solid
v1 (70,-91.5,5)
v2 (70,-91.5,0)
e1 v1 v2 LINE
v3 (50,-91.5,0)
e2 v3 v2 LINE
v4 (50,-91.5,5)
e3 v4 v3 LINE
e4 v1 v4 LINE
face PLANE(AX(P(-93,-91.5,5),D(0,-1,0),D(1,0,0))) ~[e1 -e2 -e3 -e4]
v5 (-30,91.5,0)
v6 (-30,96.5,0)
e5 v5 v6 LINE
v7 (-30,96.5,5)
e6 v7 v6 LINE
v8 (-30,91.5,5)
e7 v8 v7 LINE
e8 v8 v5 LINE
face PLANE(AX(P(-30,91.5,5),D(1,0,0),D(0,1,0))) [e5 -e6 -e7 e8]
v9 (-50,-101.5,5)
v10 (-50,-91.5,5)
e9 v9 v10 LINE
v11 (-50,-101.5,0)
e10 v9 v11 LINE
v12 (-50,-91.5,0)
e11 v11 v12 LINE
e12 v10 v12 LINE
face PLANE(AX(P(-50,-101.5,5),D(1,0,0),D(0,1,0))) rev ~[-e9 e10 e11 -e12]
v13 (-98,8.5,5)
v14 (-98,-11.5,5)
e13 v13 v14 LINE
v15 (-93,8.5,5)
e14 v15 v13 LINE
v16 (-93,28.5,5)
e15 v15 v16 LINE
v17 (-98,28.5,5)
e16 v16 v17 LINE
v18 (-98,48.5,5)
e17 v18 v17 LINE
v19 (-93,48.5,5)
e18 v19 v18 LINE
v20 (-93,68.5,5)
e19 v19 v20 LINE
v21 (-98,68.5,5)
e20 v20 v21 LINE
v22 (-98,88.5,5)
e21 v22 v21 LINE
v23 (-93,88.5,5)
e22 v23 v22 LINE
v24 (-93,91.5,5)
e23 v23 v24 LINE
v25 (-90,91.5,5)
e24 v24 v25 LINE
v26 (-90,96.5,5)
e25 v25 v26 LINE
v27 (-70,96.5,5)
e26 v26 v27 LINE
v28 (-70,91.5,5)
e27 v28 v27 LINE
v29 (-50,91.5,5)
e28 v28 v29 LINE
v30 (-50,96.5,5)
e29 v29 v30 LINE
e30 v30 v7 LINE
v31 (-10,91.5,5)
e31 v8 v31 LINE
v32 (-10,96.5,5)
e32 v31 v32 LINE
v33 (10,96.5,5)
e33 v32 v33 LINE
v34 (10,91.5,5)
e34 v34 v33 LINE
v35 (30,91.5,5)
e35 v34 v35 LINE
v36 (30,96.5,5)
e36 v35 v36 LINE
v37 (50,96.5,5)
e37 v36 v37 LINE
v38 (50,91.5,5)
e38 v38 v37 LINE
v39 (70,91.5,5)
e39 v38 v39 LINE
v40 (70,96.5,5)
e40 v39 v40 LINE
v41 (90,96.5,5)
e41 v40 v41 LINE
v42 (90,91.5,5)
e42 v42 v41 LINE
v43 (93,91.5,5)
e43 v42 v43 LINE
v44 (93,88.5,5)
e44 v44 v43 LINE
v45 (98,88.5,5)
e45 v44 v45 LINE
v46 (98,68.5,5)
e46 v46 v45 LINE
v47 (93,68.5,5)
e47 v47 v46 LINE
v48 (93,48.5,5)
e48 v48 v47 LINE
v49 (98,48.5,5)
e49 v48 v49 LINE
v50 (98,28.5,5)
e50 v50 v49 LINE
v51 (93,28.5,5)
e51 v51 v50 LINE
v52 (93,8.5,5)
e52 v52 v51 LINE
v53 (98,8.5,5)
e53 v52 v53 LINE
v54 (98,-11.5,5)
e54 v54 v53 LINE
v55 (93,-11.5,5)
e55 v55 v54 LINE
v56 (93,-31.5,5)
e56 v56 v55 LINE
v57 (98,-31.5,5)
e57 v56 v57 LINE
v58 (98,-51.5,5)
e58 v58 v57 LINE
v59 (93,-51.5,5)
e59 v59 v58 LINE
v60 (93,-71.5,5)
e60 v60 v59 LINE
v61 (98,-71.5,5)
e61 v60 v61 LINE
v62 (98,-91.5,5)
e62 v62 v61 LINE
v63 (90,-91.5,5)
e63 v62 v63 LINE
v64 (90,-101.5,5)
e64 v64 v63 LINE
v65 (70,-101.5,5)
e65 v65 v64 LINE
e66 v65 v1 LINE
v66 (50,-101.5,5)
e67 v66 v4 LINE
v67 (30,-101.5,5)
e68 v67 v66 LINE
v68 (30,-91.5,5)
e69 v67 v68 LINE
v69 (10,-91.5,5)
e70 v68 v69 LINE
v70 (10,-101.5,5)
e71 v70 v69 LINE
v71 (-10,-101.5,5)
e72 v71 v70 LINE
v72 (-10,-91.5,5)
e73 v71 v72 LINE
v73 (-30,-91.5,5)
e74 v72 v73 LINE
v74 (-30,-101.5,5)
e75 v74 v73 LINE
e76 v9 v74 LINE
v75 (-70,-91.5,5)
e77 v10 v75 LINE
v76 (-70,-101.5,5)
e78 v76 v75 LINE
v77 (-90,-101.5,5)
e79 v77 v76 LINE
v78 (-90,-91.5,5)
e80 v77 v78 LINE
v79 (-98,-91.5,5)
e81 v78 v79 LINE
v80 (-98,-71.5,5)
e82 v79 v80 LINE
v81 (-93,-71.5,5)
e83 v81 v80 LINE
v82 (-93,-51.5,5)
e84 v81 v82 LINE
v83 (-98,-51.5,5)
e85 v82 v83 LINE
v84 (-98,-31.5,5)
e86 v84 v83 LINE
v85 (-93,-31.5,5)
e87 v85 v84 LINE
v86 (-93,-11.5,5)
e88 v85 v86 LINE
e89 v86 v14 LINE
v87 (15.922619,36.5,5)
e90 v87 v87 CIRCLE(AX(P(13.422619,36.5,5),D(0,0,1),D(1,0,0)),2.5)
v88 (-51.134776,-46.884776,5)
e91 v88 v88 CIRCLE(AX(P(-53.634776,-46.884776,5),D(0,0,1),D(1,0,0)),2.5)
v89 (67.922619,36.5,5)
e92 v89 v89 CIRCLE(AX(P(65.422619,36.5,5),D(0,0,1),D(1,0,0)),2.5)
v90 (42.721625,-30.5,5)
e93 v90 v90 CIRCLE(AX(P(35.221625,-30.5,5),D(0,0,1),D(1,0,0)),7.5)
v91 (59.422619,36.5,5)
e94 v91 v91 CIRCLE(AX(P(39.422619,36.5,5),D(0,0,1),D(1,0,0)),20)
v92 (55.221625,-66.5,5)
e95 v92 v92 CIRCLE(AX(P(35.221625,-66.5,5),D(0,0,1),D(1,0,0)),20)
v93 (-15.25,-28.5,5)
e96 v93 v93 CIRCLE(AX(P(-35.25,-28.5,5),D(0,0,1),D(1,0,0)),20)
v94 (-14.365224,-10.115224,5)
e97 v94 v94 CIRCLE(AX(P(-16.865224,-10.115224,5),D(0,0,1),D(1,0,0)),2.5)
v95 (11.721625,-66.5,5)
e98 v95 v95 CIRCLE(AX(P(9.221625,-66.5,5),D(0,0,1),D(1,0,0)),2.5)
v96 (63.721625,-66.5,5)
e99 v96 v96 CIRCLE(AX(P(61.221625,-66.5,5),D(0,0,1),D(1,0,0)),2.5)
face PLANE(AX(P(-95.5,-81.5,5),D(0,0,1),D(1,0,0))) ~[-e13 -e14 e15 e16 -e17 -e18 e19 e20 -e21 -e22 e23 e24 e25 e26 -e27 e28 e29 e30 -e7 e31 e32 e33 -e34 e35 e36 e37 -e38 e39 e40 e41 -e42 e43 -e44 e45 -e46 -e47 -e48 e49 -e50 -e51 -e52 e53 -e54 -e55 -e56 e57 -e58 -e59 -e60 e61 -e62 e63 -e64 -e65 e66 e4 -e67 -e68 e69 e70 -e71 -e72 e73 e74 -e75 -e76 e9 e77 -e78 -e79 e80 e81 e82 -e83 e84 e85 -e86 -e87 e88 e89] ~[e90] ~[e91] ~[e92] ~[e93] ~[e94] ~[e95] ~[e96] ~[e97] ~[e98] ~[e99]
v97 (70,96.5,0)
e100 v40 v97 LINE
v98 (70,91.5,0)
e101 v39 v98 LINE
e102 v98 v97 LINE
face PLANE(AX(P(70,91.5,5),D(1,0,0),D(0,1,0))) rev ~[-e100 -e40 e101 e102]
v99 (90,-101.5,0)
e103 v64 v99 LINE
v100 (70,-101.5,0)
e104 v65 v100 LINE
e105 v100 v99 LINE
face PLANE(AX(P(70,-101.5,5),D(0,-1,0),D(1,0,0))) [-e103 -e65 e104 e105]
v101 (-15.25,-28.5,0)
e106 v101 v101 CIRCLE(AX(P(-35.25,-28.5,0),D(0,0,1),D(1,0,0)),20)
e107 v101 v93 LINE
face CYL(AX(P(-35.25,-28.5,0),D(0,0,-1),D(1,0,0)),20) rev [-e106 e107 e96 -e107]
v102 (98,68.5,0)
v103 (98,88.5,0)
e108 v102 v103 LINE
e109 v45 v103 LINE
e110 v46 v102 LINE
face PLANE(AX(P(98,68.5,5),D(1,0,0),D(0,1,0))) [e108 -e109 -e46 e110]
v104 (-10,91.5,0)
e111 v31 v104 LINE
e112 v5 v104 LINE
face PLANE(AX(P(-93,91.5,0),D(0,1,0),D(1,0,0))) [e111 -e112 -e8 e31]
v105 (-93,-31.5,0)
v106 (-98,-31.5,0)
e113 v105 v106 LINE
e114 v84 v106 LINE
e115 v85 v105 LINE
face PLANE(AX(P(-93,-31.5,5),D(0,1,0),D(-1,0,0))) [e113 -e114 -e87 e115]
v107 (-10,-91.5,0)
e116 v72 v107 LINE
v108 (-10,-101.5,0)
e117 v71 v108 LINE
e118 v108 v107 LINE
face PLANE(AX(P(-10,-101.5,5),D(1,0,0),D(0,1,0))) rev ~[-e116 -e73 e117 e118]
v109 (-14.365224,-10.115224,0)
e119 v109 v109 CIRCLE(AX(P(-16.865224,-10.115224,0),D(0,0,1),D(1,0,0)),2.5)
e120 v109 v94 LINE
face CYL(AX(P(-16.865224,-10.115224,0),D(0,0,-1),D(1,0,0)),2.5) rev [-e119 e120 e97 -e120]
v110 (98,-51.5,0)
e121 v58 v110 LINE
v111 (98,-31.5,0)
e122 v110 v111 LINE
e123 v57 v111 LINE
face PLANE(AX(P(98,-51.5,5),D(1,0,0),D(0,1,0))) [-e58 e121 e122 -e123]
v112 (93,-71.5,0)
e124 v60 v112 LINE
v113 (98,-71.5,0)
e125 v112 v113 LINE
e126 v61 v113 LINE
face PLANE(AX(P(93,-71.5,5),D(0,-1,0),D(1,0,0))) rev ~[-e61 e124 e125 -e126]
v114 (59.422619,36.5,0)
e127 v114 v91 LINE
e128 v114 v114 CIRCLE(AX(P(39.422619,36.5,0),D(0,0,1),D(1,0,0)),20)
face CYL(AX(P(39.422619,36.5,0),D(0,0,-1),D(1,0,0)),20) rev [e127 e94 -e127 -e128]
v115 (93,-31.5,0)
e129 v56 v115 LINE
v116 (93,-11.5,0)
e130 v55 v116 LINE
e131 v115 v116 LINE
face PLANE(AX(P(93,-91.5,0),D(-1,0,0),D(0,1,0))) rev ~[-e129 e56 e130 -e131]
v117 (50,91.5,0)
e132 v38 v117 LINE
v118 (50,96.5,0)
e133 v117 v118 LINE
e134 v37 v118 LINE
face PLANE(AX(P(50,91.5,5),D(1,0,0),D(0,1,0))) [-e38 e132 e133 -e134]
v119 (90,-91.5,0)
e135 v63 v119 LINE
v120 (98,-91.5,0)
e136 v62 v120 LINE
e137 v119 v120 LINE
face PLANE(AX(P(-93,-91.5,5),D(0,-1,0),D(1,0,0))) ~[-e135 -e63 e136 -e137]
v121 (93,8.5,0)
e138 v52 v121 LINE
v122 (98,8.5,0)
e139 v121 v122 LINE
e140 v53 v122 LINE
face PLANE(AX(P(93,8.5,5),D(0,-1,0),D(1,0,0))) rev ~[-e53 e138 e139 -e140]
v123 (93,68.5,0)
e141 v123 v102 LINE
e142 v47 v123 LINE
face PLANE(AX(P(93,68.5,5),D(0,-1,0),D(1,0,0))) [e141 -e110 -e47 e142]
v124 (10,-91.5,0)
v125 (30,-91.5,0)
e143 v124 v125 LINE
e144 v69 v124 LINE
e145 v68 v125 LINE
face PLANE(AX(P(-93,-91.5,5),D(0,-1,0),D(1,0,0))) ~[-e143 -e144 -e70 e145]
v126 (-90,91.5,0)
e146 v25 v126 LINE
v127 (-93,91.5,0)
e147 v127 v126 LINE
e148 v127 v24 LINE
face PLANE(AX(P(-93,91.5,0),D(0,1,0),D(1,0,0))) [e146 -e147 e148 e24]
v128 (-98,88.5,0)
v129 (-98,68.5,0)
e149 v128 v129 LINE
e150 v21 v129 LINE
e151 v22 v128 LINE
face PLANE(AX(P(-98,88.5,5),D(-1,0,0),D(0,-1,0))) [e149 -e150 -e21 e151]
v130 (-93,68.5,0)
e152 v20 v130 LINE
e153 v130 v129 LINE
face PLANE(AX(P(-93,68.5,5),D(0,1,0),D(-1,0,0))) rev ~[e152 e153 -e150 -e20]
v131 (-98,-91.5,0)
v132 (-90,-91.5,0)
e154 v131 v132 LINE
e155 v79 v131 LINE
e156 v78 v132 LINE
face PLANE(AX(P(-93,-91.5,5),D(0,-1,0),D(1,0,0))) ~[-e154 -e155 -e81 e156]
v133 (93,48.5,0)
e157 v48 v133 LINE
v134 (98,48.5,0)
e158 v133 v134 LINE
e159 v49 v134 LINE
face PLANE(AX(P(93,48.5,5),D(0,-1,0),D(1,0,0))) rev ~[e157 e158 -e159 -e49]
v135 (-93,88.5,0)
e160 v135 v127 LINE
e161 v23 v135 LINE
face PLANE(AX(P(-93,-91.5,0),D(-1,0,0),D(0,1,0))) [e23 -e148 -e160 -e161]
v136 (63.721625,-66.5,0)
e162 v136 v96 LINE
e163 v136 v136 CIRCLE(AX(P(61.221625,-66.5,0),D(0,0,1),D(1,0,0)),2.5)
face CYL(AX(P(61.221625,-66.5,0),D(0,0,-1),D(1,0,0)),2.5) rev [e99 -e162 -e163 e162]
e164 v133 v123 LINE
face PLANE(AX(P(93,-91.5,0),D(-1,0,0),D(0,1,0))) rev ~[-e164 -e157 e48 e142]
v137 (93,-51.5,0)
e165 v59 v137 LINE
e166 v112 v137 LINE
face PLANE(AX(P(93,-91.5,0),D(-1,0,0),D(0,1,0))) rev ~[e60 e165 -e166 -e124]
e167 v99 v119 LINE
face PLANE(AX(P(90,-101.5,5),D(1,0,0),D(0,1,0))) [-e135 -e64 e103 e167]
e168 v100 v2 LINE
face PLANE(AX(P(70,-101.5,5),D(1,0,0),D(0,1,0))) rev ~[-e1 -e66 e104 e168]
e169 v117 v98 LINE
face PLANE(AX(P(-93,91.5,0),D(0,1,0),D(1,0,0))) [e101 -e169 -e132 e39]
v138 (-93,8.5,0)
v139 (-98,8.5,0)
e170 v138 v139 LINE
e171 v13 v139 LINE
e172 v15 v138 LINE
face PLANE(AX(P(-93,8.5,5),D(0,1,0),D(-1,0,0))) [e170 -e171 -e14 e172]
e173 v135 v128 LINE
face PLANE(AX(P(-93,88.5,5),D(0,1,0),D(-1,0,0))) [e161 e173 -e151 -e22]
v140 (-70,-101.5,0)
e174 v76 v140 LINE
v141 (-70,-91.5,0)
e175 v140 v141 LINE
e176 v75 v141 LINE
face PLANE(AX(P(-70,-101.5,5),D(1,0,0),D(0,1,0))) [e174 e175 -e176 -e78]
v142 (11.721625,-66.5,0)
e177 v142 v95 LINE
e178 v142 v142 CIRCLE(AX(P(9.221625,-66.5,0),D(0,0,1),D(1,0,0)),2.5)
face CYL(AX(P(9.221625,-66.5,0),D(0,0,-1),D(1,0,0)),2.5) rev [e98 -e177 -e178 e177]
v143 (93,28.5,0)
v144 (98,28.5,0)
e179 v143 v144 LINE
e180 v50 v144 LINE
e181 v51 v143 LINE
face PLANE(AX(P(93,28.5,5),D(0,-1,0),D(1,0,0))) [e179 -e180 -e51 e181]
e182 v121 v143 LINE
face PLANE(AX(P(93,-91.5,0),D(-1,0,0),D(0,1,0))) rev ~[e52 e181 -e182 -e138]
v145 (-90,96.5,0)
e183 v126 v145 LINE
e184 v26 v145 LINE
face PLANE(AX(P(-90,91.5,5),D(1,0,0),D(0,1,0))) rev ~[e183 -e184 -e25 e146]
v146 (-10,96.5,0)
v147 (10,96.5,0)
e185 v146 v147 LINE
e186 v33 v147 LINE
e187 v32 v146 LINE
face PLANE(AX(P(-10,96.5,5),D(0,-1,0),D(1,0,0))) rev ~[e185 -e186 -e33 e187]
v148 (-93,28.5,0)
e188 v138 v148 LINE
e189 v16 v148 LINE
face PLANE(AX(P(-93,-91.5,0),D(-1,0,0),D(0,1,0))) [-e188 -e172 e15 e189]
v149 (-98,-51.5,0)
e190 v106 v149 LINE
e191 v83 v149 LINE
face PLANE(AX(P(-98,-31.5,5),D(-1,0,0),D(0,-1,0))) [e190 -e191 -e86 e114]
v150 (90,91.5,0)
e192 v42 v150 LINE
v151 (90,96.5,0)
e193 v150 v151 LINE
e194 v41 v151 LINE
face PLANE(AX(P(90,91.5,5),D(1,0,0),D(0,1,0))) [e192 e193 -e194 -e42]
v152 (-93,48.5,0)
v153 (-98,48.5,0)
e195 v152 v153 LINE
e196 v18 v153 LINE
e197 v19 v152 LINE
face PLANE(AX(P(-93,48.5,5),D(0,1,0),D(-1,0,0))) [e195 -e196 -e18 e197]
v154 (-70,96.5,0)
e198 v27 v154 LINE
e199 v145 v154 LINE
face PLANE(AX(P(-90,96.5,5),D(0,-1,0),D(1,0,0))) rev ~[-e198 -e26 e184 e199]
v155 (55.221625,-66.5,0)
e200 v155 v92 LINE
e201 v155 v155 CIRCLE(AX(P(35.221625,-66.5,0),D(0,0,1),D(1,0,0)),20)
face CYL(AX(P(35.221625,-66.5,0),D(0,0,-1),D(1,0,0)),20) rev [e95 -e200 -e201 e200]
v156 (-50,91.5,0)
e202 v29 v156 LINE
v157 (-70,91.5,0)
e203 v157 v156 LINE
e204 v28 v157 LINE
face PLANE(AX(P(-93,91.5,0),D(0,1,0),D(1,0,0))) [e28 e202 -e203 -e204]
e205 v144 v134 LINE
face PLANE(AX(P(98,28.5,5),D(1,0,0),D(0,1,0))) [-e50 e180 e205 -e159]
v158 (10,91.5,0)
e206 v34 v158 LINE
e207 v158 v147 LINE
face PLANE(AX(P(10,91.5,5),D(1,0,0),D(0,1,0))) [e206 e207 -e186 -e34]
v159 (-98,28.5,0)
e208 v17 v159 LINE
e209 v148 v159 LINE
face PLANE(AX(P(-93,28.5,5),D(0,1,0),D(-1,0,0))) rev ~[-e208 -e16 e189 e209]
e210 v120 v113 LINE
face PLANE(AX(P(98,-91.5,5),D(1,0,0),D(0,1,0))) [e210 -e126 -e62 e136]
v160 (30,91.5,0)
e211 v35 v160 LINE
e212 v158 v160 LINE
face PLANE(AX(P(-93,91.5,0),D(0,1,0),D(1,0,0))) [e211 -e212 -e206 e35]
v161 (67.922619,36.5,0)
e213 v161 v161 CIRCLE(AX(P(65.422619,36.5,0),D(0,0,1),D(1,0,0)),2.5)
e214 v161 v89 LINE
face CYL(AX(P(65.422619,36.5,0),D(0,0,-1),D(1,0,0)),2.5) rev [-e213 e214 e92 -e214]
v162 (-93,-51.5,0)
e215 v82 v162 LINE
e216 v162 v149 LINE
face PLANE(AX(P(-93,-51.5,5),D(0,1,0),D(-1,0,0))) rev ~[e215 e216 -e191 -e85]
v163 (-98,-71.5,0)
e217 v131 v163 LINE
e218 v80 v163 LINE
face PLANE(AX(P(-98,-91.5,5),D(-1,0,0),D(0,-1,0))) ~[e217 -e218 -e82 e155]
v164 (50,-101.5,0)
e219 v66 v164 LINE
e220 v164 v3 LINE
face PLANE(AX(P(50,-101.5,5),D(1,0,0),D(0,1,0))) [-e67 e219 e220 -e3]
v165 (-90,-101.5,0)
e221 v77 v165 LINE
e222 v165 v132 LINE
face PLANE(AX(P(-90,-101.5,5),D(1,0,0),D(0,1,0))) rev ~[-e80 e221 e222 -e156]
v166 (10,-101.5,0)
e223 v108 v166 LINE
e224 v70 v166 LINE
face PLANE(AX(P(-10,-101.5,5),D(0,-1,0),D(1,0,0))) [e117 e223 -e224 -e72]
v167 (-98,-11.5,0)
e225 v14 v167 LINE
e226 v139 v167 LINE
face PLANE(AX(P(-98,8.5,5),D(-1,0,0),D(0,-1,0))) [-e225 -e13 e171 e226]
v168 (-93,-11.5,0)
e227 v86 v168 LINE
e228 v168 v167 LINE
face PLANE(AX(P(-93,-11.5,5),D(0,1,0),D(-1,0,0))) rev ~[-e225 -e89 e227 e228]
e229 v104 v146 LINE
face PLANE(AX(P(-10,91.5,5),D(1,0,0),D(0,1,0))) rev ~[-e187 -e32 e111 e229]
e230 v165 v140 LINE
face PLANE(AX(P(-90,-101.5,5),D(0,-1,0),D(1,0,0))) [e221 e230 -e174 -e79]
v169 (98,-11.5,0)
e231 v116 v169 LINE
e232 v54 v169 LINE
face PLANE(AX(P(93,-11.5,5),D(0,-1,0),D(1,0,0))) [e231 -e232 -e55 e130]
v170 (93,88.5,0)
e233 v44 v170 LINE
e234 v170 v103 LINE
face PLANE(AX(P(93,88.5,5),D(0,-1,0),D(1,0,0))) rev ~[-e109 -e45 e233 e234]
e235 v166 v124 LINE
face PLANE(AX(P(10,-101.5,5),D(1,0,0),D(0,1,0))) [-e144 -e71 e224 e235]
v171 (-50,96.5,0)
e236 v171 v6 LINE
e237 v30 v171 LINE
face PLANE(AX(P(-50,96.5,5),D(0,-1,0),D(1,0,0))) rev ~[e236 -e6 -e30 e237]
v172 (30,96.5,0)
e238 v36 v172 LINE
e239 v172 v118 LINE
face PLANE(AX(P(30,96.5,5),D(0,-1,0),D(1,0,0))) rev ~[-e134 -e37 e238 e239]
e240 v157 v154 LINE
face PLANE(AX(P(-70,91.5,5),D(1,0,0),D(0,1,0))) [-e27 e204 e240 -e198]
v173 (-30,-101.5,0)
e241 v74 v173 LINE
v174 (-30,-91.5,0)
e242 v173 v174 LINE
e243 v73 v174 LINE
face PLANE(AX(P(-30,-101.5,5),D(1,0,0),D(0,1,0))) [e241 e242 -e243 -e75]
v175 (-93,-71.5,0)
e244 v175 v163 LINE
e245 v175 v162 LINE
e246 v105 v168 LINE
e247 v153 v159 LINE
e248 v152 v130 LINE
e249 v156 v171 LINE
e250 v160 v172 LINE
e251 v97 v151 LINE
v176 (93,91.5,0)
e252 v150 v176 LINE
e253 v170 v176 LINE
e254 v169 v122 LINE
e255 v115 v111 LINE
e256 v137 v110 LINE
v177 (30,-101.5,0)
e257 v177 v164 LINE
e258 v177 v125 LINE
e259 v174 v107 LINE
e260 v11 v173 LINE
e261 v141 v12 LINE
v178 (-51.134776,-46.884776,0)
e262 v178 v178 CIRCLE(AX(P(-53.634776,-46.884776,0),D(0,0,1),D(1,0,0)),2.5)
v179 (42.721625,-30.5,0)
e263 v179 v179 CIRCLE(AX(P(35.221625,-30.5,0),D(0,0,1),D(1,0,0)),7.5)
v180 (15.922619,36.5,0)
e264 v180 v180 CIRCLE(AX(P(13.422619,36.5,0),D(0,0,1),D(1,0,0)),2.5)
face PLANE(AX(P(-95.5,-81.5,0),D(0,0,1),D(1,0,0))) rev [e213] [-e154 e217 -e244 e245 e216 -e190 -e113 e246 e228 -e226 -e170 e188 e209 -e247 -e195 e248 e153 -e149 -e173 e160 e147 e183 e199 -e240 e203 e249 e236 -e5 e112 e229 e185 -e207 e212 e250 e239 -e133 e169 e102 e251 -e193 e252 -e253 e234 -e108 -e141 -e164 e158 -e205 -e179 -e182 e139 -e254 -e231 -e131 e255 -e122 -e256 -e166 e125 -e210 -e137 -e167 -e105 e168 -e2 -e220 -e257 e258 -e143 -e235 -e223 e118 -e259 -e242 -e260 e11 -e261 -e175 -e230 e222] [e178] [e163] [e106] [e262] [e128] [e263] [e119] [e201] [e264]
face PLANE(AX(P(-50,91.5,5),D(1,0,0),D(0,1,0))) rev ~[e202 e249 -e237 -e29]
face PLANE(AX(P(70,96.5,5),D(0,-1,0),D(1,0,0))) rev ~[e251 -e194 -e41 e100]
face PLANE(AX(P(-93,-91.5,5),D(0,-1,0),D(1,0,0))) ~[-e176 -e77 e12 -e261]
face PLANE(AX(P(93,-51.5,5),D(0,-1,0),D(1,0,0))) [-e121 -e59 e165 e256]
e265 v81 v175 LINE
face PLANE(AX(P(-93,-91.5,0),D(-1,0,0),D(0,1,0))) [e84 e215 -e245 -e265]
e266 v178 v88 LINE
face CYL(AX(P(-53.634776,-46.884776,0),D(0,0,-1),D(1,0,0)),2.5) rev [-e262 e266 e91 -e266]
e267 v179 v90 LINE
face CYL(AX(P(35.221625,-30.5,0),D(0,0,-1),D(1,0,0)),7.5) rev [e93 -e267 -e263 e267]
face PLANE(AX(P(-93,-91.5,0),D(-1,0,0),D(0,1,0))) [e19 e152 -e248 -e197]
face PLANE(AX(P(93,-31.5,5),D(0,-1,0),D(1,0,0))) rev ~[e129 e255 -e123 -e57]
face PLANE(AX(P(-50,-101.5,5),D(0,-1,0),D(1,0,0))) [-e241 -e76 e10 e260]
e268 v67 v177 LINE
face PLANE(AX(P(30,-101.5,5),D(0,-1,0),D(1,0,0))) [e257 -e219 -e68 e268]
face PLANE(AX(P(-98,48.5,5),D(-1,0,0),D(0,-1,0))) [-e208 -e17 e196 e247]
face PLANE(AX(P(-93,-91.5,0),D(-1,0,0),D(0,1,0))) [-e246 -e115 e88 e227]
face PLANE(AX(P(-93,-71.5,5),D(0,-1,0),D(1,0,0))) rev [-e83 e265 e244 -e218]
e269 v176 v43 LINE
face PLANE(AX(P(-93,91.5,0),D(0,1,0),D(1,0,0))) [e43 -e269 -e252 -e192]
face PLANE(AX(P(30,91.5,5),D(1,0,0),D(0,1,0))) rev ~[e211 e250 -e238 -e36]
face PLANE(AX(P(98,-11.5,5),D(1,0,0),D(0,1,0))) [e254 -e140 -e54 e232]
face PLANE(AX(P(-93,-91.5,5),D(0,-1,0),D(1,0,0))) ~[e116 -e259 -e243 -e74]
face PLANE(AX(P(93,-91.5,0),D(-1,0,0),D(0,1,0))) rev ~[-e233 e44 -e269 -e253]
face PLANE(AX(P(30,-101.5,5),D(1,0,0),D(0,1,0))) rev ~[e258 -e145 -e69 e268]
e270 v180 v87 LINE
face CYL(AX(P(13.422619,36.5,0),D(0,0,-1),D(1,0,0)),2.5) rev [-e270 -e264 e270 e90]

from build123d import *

# Parameters (mm, degrees)
SKETCH_1_W                       = 186
SKETCH_1_H                       = 183
SKETCH_1_R                       = 7.5
SKETCH_1_R_2                     = 20
SKETCH_1_R_3                     = 2.5
EXTRUDE_1_DEPTH                  = 5
SKETCH_2_W                       = 5
SKETCH_2_H                       = 20
EXTRUDE_2_DEPTH                  = 5
PATTERN_LINEAR_2_COUNT           = 5
PATTERN_LINEAR_2_PITCH           = 40
MIRROR_2_COPY_1_SKETCH_W         = 5
MIRROR_2_COPY_1_SKETCH_H         = 20
MIRROR_2_COPY_1_DEPTH            = 5
MIRROR_2_COPY_2_SKETCH_W         = 5
MIRROR_2_COPY_2_SKETCH_H         = 20
MIRROR_2_COPY_2_DEPTH            = 5
MIRROR_2_COPY_3_SKETCH_W         = 5
MIRROR_2_COPY_3_SKETCH_H         = 20
MIRROR_2_COPY_3_DEPTH            = 5
MIRROR_2_COPY_4_SKETCH_W         = 5
MIRROR_2_COPY_4_SKETCH_H         = 20
MIRROR_2_COPY_4_DEPTH            = 5
SKETCH_3_W                       = 20
SKETCH_3_H                       = 5
EXTRUDE_3_DEPTH                  = 5
PATTERN_LINEAR_3_COUNT           = 3
PATTERN_LINEAR_3_PITCH           = 40
PATTERN_LINEAR_4_COUNT           = 3
PATTERN_LINEAR_4_PITCH           = 40
SKETCH_4_W                       = 20
SKETCH_4_H                       = 10
EXTRUDE_4_DEPTH                  = 5
PATTERN_LINEAR_5_COUNT           = 3
PATTERN_LINEAR_5_PITCH           = 40
PATTERN_LINEAR_6_COPY_1_SKETCH_W = 20
PATTERN_LINEAR_6_COPY_1_SKETCH_H = 10
PATTERN_LINEAR_6_COPY_1_DEPTH    = 5
PATTERN_LINEAR_6_COPY_2_SKETCH_W = 20
PATTERN_LINEAR_6_COPY_2_SKETCH_H = 10
PATTERN_LINEAR_6_COPY_2_DEPTH    = 5
PATTERN_LINEAR_6_COPY_3_SKETCH_W = 20
PATTERN_LINEAR_6_COPY_3_SKETCH_H = 10
PATTERN_LINEAR_6_COPY_3_DEPTH    = 5
PATTERN_LINEAR_6_COPY_4_SKETCH_W = 20
PATTERN_LINEAR_6_COPY_4_SKETCH_H = 10
PATTERN_LINEAR_6_COPY_4_DEPTH    = 5
PATTERN_LINEAR_6_COPY_5_SKETCH_W = 20
PATTERN_LINEAR_6_COPY_5_SKETCH_H = 10
PATTERN_LINEAR_6_COPY_5_DEPTH    = 5
PATTERN_LINEAR_6_COPY_6_SKETCH_W = 20
PATTERN_LINEAR_6_COPY_6_SKETCH_H = 10
PATTERN_LINEAR_6_COPY_6_DEPTH    = 5


with BuildPart() as part:
    # 스케치1 → 보스-돌출1 (new body)
    with BuildSketch(Plane.XY):
        Rectangle(SKETCH_1_W, SKETCH_1_H)
        with Locations((35.221625496, -30.5)):
            Circle(SKETCH_1_R, mode=Mode.SUBTRACT)
        with Locations((-35.25, -28.5)):
            Circle(SKETCH_1_R_2, mode=Mode.SUBTRACT)
        with Locations((35.221625496, -66.5)):
            Circle(SKETCH_1_R_2, mode=Mode.SUBTRACT)
        with Locations((39.42261881, 36.5)):
            Circle(SKETCH_1_R_2, mode=Mode.SUBTRACT)
        with Locations((-53.634776311, -46.884776311)):
            Circle(SKETCH_1_R_3, mode=Mode.SUBTRACT)
        with Locations((-16.865223689, -10.115223689)):
            Circle(SKETCH_1_R_3, mode=Mode.SUBTRACT)
        with Locations((65.42261881, 36.5)):
            Circle(SKETCH_1_R_3, mode=Mode.SUBTRACT)
        with Locations((13.42261881, 36.5)):
            Circle(SKETCH_1_R_3, mode=Mode.SUBTRACT)
        with Locations((9.221625496, -66.5)):
            Circle(SKETCH_1_R_3, mode=Mode.SUBTRACT)
        with Locations((61.221625496, -66.5)):
            Circle(SKETCH_1_R_3, mode=Mode.SUBTRACT)
    extrude(amount=EXTRUDE_1_DEPTH)

    # 스케치2 → 보스-돌출2 (add)
    with BuildSketch(Plane.XY.offset(5)):
        with Locations((95.5, -81.5)):
            Rectangle(SKETCH_2_W, SKETCH_2_H)
    extrude_2 = extrude(amount=-EXTRUDE_2_DEPTH)

    # 선형 패턴2: 보스-돌출2 ×5
    with Locations(*[(0, i * PATTERN_LINEAR_2_PITCH, 0) for i in range(1, PATTERN_LINEAR_2_COUNT)]):
        add(extrude_2)

    # 대칭 복사2: 보스-돌출2 across plane
    add(extrude_2.mirror(Plane(origin=(0, 0, 0), x_dir=(0, 0, 1), z_dir=(1, 0, 0))))

    # 대칭 복사2 copy 1 sketch → 대칭 복사2 copy 1 (add)
    with BuildSketch(Plane(origin=(0, 40, 5), x_dir=(-1, 0, 0), z_dir=(0, 0, 1))):
        with Locations((95.5, 81.5)):
            Rectangle(MIRROR_2_COPY_1_SKETCH_W, MIRROR_2_COPY_1_SKETCH_H)
    extrude(amount=-MIRROR_2_COPY_1_DEPTH)

    # 대칭 복사2 copy 2 sketch → 대칭 복사2 copy 2 (add)
    with BuildSketch(Plane(origin=(0, 80, 5), x_dir=(-1, 0, 0), z_dir=(0, 0, 1))):
        with Locations((95.5, 81.5)):
            Rectangle(MIRROR_2_COPY_2_SKETCH_W, MIRROR_2_COPY_2_SKETCH_H)
    extrude(amount=-MIRROR_2_COPY_2_DEPTH)

    # 대칭 복사2 copy 3 sketch → 대칭 복사2 copy 3 (add)
    with BuildSketch(Plane(origin=(0, 120, 5), x_dir=(-1, 0, 0), z_dir=(0, 0, 1))):
        with Locations((95.5, 81.5)):
            Rectangle(MIRROR_2_COPY_3_SKETCH_W, MIRROR_2_COPY_3_SKETCH_H)
    extrude(amount=-MIRROR_2_COPY_3_DEPTH)

    # 대칭 복사2 copy 4 sketch → 대칭 복사2 copy 4 (add)
    with BuildSketch(Plane(origin=(0, 160, 5), x_dir=(-1, 0, 0), z_dir=(0, 0, 1))):
        with Locations((95.5, 81.5)):
            Rectangle(MIRROR_2_COPY_4_SKETCH_W, MIRROR_2_COPY_4_SKETCH_H)
    extrude(amount=-MIRROR_2_COPY_4_DEPTH)

    # 스케치3 → 보스-돌출3 (add)
    with BuildSketch(Plane.XY.offset(5)):
        with Locations((0, 94)):
            Rectangle(SKETCH_3_W, SKETCH_3_H)
    extrude_3 = extrude(amount=-EXTRUDE_3_DEPTH)

    # 선형 패턴3: 보스-돌출3 ×3
    with Locations(*[(i * PATTERN_LINEAR_3_PITCH, 0, 0) for i in range(1, PATTERN_LINEAR_3_COUNT)]):
        add(extrude_3)

    # 선형 패턴4: 보스-돌출3 ×3
    with Locations(*[(-i * PATTERN_LINEAR_4_PITCH, 0, 0) for i in range(1, PATTERN_LINEAR_4_COUNT)]):
        add(extrude_3)

    # 스케치4 → 보스-돌출4 (add)
    with BuildSketch(Plane.XY.offset(5)):
        with Locations((0, -96.5)):
            Rectangle(SKETCH_4_W, SKETCH_4_H)
    extrude_4 = extrude(amount=-EXTRUDE_4_DEPTH)

    # 선형 패턴5: 보스-돌출4 ×3
    with Locations(*[(i * PATTERN_LINEAR_5_PITCH, 0, 0) for i in range(1, PATTERN_LINEAR_5_COUNT)]):
        add(extrude_4)

    # 선형 패턴6 copy 1 sketch → 선형 패턴6 copy 1 (add)
    with BuildSketch(Plane.XY.offset(5)):
        with Locations((0, -96.5)):
            Rectangle(PATTERN_LINEAR_6_COPY_1_SKETCH_W, PATTERN_LINEAR_6_COPY_1_SKETCH_H)
    extrude(amount=-PATTERN_LINEAR_6_COPY_1_DEPTH)

    # 선형 패턴6 copy 2 sketch → 선형 패턴6 copy 2 (add)
    with BuildSketch(Plane(origin=(-40, 0, 5), x_dir=(1, 0, 0), z_dir=(0, 0, 1))):
        with Locations((0, -96.5)):
            Rectangle(PATTERN_LINEAR_6_COPY_2_SKETCH_W, PATTERN_LINEAR_6_COPY_2_SKETCH_H)
    extrude(amount=-PATTERN_LINEAR_6_COPY_2_DEPTH)

    # 선형 패턴6 copy 3 sketch → 선형 패턴6 copy 3 (add)
    with BuildSketch(Plane(origin=(40, 0, 5), x_dir=(1, 0, 0), z_dir=(0, 0, 1))):
        with Locations((0, -96.5)):
            Rectangle(PATTERN_LINEAR_6_COPY_3_SKETCH_W, PATTERN_LINEAR_6_COPY_3_SKETCH_H)
    extrude(amount=-PATTERN_LINEAR_6_COPY_3_DEPTH)

    # 선형 패턴6 copy 4 sketch → 선형 패턴6 copy 4 (add)
    with BuildSketch(Plane.XY.offset(5)):
        with Locations((0, -96.5)):
            Rectangle(PATTERN_LINEAR_6_COPY_4_SKETCH_W, PATTERN_LINEAR_6_COPY_4_SKETCH_H)
    extrude(amount=-PATTERN_LINEAR_6_COPY_4_DEPTH)

    # 선형 패턴6 copy 5 sketch → 선형 패턴6 copy 5 (add)
    with BuildSketch(Plane(origin=(-40, 0, 5), x_dir=(1, 0, 0), z_dir=(0, 0, 1))):
        with Locations((0, -96.5)):
            Rectangle(PATTERN_LINEAR_6_COPY_5_SKETCH_W, PATTERN_LINEAR_6_COPY_5_SKETCH_H)
    extrude(amount=-PATTERN_LINEAR_6_COPY_5_DEPTH)

    # 선형 패턴6 copy 6 sketch → 선형 패턴6 copy 6 (add)
    with BuildSketch(Plane(origin=(-80, 0, 5), x_dir=(1, 0, 0), z_dir=(0, 0, 1))):
        with Locations((0, -96.5)):
            Rectangle(PATTERN_LINEAR_6_COPY_6_SKETCH_W, PATTERN_LINEAR_6_COPY_6_SKETCH_H)
    extrude(amount=-PATTERN_LINEAR_6_COPY_6_DEPTH)


solid = part.part
